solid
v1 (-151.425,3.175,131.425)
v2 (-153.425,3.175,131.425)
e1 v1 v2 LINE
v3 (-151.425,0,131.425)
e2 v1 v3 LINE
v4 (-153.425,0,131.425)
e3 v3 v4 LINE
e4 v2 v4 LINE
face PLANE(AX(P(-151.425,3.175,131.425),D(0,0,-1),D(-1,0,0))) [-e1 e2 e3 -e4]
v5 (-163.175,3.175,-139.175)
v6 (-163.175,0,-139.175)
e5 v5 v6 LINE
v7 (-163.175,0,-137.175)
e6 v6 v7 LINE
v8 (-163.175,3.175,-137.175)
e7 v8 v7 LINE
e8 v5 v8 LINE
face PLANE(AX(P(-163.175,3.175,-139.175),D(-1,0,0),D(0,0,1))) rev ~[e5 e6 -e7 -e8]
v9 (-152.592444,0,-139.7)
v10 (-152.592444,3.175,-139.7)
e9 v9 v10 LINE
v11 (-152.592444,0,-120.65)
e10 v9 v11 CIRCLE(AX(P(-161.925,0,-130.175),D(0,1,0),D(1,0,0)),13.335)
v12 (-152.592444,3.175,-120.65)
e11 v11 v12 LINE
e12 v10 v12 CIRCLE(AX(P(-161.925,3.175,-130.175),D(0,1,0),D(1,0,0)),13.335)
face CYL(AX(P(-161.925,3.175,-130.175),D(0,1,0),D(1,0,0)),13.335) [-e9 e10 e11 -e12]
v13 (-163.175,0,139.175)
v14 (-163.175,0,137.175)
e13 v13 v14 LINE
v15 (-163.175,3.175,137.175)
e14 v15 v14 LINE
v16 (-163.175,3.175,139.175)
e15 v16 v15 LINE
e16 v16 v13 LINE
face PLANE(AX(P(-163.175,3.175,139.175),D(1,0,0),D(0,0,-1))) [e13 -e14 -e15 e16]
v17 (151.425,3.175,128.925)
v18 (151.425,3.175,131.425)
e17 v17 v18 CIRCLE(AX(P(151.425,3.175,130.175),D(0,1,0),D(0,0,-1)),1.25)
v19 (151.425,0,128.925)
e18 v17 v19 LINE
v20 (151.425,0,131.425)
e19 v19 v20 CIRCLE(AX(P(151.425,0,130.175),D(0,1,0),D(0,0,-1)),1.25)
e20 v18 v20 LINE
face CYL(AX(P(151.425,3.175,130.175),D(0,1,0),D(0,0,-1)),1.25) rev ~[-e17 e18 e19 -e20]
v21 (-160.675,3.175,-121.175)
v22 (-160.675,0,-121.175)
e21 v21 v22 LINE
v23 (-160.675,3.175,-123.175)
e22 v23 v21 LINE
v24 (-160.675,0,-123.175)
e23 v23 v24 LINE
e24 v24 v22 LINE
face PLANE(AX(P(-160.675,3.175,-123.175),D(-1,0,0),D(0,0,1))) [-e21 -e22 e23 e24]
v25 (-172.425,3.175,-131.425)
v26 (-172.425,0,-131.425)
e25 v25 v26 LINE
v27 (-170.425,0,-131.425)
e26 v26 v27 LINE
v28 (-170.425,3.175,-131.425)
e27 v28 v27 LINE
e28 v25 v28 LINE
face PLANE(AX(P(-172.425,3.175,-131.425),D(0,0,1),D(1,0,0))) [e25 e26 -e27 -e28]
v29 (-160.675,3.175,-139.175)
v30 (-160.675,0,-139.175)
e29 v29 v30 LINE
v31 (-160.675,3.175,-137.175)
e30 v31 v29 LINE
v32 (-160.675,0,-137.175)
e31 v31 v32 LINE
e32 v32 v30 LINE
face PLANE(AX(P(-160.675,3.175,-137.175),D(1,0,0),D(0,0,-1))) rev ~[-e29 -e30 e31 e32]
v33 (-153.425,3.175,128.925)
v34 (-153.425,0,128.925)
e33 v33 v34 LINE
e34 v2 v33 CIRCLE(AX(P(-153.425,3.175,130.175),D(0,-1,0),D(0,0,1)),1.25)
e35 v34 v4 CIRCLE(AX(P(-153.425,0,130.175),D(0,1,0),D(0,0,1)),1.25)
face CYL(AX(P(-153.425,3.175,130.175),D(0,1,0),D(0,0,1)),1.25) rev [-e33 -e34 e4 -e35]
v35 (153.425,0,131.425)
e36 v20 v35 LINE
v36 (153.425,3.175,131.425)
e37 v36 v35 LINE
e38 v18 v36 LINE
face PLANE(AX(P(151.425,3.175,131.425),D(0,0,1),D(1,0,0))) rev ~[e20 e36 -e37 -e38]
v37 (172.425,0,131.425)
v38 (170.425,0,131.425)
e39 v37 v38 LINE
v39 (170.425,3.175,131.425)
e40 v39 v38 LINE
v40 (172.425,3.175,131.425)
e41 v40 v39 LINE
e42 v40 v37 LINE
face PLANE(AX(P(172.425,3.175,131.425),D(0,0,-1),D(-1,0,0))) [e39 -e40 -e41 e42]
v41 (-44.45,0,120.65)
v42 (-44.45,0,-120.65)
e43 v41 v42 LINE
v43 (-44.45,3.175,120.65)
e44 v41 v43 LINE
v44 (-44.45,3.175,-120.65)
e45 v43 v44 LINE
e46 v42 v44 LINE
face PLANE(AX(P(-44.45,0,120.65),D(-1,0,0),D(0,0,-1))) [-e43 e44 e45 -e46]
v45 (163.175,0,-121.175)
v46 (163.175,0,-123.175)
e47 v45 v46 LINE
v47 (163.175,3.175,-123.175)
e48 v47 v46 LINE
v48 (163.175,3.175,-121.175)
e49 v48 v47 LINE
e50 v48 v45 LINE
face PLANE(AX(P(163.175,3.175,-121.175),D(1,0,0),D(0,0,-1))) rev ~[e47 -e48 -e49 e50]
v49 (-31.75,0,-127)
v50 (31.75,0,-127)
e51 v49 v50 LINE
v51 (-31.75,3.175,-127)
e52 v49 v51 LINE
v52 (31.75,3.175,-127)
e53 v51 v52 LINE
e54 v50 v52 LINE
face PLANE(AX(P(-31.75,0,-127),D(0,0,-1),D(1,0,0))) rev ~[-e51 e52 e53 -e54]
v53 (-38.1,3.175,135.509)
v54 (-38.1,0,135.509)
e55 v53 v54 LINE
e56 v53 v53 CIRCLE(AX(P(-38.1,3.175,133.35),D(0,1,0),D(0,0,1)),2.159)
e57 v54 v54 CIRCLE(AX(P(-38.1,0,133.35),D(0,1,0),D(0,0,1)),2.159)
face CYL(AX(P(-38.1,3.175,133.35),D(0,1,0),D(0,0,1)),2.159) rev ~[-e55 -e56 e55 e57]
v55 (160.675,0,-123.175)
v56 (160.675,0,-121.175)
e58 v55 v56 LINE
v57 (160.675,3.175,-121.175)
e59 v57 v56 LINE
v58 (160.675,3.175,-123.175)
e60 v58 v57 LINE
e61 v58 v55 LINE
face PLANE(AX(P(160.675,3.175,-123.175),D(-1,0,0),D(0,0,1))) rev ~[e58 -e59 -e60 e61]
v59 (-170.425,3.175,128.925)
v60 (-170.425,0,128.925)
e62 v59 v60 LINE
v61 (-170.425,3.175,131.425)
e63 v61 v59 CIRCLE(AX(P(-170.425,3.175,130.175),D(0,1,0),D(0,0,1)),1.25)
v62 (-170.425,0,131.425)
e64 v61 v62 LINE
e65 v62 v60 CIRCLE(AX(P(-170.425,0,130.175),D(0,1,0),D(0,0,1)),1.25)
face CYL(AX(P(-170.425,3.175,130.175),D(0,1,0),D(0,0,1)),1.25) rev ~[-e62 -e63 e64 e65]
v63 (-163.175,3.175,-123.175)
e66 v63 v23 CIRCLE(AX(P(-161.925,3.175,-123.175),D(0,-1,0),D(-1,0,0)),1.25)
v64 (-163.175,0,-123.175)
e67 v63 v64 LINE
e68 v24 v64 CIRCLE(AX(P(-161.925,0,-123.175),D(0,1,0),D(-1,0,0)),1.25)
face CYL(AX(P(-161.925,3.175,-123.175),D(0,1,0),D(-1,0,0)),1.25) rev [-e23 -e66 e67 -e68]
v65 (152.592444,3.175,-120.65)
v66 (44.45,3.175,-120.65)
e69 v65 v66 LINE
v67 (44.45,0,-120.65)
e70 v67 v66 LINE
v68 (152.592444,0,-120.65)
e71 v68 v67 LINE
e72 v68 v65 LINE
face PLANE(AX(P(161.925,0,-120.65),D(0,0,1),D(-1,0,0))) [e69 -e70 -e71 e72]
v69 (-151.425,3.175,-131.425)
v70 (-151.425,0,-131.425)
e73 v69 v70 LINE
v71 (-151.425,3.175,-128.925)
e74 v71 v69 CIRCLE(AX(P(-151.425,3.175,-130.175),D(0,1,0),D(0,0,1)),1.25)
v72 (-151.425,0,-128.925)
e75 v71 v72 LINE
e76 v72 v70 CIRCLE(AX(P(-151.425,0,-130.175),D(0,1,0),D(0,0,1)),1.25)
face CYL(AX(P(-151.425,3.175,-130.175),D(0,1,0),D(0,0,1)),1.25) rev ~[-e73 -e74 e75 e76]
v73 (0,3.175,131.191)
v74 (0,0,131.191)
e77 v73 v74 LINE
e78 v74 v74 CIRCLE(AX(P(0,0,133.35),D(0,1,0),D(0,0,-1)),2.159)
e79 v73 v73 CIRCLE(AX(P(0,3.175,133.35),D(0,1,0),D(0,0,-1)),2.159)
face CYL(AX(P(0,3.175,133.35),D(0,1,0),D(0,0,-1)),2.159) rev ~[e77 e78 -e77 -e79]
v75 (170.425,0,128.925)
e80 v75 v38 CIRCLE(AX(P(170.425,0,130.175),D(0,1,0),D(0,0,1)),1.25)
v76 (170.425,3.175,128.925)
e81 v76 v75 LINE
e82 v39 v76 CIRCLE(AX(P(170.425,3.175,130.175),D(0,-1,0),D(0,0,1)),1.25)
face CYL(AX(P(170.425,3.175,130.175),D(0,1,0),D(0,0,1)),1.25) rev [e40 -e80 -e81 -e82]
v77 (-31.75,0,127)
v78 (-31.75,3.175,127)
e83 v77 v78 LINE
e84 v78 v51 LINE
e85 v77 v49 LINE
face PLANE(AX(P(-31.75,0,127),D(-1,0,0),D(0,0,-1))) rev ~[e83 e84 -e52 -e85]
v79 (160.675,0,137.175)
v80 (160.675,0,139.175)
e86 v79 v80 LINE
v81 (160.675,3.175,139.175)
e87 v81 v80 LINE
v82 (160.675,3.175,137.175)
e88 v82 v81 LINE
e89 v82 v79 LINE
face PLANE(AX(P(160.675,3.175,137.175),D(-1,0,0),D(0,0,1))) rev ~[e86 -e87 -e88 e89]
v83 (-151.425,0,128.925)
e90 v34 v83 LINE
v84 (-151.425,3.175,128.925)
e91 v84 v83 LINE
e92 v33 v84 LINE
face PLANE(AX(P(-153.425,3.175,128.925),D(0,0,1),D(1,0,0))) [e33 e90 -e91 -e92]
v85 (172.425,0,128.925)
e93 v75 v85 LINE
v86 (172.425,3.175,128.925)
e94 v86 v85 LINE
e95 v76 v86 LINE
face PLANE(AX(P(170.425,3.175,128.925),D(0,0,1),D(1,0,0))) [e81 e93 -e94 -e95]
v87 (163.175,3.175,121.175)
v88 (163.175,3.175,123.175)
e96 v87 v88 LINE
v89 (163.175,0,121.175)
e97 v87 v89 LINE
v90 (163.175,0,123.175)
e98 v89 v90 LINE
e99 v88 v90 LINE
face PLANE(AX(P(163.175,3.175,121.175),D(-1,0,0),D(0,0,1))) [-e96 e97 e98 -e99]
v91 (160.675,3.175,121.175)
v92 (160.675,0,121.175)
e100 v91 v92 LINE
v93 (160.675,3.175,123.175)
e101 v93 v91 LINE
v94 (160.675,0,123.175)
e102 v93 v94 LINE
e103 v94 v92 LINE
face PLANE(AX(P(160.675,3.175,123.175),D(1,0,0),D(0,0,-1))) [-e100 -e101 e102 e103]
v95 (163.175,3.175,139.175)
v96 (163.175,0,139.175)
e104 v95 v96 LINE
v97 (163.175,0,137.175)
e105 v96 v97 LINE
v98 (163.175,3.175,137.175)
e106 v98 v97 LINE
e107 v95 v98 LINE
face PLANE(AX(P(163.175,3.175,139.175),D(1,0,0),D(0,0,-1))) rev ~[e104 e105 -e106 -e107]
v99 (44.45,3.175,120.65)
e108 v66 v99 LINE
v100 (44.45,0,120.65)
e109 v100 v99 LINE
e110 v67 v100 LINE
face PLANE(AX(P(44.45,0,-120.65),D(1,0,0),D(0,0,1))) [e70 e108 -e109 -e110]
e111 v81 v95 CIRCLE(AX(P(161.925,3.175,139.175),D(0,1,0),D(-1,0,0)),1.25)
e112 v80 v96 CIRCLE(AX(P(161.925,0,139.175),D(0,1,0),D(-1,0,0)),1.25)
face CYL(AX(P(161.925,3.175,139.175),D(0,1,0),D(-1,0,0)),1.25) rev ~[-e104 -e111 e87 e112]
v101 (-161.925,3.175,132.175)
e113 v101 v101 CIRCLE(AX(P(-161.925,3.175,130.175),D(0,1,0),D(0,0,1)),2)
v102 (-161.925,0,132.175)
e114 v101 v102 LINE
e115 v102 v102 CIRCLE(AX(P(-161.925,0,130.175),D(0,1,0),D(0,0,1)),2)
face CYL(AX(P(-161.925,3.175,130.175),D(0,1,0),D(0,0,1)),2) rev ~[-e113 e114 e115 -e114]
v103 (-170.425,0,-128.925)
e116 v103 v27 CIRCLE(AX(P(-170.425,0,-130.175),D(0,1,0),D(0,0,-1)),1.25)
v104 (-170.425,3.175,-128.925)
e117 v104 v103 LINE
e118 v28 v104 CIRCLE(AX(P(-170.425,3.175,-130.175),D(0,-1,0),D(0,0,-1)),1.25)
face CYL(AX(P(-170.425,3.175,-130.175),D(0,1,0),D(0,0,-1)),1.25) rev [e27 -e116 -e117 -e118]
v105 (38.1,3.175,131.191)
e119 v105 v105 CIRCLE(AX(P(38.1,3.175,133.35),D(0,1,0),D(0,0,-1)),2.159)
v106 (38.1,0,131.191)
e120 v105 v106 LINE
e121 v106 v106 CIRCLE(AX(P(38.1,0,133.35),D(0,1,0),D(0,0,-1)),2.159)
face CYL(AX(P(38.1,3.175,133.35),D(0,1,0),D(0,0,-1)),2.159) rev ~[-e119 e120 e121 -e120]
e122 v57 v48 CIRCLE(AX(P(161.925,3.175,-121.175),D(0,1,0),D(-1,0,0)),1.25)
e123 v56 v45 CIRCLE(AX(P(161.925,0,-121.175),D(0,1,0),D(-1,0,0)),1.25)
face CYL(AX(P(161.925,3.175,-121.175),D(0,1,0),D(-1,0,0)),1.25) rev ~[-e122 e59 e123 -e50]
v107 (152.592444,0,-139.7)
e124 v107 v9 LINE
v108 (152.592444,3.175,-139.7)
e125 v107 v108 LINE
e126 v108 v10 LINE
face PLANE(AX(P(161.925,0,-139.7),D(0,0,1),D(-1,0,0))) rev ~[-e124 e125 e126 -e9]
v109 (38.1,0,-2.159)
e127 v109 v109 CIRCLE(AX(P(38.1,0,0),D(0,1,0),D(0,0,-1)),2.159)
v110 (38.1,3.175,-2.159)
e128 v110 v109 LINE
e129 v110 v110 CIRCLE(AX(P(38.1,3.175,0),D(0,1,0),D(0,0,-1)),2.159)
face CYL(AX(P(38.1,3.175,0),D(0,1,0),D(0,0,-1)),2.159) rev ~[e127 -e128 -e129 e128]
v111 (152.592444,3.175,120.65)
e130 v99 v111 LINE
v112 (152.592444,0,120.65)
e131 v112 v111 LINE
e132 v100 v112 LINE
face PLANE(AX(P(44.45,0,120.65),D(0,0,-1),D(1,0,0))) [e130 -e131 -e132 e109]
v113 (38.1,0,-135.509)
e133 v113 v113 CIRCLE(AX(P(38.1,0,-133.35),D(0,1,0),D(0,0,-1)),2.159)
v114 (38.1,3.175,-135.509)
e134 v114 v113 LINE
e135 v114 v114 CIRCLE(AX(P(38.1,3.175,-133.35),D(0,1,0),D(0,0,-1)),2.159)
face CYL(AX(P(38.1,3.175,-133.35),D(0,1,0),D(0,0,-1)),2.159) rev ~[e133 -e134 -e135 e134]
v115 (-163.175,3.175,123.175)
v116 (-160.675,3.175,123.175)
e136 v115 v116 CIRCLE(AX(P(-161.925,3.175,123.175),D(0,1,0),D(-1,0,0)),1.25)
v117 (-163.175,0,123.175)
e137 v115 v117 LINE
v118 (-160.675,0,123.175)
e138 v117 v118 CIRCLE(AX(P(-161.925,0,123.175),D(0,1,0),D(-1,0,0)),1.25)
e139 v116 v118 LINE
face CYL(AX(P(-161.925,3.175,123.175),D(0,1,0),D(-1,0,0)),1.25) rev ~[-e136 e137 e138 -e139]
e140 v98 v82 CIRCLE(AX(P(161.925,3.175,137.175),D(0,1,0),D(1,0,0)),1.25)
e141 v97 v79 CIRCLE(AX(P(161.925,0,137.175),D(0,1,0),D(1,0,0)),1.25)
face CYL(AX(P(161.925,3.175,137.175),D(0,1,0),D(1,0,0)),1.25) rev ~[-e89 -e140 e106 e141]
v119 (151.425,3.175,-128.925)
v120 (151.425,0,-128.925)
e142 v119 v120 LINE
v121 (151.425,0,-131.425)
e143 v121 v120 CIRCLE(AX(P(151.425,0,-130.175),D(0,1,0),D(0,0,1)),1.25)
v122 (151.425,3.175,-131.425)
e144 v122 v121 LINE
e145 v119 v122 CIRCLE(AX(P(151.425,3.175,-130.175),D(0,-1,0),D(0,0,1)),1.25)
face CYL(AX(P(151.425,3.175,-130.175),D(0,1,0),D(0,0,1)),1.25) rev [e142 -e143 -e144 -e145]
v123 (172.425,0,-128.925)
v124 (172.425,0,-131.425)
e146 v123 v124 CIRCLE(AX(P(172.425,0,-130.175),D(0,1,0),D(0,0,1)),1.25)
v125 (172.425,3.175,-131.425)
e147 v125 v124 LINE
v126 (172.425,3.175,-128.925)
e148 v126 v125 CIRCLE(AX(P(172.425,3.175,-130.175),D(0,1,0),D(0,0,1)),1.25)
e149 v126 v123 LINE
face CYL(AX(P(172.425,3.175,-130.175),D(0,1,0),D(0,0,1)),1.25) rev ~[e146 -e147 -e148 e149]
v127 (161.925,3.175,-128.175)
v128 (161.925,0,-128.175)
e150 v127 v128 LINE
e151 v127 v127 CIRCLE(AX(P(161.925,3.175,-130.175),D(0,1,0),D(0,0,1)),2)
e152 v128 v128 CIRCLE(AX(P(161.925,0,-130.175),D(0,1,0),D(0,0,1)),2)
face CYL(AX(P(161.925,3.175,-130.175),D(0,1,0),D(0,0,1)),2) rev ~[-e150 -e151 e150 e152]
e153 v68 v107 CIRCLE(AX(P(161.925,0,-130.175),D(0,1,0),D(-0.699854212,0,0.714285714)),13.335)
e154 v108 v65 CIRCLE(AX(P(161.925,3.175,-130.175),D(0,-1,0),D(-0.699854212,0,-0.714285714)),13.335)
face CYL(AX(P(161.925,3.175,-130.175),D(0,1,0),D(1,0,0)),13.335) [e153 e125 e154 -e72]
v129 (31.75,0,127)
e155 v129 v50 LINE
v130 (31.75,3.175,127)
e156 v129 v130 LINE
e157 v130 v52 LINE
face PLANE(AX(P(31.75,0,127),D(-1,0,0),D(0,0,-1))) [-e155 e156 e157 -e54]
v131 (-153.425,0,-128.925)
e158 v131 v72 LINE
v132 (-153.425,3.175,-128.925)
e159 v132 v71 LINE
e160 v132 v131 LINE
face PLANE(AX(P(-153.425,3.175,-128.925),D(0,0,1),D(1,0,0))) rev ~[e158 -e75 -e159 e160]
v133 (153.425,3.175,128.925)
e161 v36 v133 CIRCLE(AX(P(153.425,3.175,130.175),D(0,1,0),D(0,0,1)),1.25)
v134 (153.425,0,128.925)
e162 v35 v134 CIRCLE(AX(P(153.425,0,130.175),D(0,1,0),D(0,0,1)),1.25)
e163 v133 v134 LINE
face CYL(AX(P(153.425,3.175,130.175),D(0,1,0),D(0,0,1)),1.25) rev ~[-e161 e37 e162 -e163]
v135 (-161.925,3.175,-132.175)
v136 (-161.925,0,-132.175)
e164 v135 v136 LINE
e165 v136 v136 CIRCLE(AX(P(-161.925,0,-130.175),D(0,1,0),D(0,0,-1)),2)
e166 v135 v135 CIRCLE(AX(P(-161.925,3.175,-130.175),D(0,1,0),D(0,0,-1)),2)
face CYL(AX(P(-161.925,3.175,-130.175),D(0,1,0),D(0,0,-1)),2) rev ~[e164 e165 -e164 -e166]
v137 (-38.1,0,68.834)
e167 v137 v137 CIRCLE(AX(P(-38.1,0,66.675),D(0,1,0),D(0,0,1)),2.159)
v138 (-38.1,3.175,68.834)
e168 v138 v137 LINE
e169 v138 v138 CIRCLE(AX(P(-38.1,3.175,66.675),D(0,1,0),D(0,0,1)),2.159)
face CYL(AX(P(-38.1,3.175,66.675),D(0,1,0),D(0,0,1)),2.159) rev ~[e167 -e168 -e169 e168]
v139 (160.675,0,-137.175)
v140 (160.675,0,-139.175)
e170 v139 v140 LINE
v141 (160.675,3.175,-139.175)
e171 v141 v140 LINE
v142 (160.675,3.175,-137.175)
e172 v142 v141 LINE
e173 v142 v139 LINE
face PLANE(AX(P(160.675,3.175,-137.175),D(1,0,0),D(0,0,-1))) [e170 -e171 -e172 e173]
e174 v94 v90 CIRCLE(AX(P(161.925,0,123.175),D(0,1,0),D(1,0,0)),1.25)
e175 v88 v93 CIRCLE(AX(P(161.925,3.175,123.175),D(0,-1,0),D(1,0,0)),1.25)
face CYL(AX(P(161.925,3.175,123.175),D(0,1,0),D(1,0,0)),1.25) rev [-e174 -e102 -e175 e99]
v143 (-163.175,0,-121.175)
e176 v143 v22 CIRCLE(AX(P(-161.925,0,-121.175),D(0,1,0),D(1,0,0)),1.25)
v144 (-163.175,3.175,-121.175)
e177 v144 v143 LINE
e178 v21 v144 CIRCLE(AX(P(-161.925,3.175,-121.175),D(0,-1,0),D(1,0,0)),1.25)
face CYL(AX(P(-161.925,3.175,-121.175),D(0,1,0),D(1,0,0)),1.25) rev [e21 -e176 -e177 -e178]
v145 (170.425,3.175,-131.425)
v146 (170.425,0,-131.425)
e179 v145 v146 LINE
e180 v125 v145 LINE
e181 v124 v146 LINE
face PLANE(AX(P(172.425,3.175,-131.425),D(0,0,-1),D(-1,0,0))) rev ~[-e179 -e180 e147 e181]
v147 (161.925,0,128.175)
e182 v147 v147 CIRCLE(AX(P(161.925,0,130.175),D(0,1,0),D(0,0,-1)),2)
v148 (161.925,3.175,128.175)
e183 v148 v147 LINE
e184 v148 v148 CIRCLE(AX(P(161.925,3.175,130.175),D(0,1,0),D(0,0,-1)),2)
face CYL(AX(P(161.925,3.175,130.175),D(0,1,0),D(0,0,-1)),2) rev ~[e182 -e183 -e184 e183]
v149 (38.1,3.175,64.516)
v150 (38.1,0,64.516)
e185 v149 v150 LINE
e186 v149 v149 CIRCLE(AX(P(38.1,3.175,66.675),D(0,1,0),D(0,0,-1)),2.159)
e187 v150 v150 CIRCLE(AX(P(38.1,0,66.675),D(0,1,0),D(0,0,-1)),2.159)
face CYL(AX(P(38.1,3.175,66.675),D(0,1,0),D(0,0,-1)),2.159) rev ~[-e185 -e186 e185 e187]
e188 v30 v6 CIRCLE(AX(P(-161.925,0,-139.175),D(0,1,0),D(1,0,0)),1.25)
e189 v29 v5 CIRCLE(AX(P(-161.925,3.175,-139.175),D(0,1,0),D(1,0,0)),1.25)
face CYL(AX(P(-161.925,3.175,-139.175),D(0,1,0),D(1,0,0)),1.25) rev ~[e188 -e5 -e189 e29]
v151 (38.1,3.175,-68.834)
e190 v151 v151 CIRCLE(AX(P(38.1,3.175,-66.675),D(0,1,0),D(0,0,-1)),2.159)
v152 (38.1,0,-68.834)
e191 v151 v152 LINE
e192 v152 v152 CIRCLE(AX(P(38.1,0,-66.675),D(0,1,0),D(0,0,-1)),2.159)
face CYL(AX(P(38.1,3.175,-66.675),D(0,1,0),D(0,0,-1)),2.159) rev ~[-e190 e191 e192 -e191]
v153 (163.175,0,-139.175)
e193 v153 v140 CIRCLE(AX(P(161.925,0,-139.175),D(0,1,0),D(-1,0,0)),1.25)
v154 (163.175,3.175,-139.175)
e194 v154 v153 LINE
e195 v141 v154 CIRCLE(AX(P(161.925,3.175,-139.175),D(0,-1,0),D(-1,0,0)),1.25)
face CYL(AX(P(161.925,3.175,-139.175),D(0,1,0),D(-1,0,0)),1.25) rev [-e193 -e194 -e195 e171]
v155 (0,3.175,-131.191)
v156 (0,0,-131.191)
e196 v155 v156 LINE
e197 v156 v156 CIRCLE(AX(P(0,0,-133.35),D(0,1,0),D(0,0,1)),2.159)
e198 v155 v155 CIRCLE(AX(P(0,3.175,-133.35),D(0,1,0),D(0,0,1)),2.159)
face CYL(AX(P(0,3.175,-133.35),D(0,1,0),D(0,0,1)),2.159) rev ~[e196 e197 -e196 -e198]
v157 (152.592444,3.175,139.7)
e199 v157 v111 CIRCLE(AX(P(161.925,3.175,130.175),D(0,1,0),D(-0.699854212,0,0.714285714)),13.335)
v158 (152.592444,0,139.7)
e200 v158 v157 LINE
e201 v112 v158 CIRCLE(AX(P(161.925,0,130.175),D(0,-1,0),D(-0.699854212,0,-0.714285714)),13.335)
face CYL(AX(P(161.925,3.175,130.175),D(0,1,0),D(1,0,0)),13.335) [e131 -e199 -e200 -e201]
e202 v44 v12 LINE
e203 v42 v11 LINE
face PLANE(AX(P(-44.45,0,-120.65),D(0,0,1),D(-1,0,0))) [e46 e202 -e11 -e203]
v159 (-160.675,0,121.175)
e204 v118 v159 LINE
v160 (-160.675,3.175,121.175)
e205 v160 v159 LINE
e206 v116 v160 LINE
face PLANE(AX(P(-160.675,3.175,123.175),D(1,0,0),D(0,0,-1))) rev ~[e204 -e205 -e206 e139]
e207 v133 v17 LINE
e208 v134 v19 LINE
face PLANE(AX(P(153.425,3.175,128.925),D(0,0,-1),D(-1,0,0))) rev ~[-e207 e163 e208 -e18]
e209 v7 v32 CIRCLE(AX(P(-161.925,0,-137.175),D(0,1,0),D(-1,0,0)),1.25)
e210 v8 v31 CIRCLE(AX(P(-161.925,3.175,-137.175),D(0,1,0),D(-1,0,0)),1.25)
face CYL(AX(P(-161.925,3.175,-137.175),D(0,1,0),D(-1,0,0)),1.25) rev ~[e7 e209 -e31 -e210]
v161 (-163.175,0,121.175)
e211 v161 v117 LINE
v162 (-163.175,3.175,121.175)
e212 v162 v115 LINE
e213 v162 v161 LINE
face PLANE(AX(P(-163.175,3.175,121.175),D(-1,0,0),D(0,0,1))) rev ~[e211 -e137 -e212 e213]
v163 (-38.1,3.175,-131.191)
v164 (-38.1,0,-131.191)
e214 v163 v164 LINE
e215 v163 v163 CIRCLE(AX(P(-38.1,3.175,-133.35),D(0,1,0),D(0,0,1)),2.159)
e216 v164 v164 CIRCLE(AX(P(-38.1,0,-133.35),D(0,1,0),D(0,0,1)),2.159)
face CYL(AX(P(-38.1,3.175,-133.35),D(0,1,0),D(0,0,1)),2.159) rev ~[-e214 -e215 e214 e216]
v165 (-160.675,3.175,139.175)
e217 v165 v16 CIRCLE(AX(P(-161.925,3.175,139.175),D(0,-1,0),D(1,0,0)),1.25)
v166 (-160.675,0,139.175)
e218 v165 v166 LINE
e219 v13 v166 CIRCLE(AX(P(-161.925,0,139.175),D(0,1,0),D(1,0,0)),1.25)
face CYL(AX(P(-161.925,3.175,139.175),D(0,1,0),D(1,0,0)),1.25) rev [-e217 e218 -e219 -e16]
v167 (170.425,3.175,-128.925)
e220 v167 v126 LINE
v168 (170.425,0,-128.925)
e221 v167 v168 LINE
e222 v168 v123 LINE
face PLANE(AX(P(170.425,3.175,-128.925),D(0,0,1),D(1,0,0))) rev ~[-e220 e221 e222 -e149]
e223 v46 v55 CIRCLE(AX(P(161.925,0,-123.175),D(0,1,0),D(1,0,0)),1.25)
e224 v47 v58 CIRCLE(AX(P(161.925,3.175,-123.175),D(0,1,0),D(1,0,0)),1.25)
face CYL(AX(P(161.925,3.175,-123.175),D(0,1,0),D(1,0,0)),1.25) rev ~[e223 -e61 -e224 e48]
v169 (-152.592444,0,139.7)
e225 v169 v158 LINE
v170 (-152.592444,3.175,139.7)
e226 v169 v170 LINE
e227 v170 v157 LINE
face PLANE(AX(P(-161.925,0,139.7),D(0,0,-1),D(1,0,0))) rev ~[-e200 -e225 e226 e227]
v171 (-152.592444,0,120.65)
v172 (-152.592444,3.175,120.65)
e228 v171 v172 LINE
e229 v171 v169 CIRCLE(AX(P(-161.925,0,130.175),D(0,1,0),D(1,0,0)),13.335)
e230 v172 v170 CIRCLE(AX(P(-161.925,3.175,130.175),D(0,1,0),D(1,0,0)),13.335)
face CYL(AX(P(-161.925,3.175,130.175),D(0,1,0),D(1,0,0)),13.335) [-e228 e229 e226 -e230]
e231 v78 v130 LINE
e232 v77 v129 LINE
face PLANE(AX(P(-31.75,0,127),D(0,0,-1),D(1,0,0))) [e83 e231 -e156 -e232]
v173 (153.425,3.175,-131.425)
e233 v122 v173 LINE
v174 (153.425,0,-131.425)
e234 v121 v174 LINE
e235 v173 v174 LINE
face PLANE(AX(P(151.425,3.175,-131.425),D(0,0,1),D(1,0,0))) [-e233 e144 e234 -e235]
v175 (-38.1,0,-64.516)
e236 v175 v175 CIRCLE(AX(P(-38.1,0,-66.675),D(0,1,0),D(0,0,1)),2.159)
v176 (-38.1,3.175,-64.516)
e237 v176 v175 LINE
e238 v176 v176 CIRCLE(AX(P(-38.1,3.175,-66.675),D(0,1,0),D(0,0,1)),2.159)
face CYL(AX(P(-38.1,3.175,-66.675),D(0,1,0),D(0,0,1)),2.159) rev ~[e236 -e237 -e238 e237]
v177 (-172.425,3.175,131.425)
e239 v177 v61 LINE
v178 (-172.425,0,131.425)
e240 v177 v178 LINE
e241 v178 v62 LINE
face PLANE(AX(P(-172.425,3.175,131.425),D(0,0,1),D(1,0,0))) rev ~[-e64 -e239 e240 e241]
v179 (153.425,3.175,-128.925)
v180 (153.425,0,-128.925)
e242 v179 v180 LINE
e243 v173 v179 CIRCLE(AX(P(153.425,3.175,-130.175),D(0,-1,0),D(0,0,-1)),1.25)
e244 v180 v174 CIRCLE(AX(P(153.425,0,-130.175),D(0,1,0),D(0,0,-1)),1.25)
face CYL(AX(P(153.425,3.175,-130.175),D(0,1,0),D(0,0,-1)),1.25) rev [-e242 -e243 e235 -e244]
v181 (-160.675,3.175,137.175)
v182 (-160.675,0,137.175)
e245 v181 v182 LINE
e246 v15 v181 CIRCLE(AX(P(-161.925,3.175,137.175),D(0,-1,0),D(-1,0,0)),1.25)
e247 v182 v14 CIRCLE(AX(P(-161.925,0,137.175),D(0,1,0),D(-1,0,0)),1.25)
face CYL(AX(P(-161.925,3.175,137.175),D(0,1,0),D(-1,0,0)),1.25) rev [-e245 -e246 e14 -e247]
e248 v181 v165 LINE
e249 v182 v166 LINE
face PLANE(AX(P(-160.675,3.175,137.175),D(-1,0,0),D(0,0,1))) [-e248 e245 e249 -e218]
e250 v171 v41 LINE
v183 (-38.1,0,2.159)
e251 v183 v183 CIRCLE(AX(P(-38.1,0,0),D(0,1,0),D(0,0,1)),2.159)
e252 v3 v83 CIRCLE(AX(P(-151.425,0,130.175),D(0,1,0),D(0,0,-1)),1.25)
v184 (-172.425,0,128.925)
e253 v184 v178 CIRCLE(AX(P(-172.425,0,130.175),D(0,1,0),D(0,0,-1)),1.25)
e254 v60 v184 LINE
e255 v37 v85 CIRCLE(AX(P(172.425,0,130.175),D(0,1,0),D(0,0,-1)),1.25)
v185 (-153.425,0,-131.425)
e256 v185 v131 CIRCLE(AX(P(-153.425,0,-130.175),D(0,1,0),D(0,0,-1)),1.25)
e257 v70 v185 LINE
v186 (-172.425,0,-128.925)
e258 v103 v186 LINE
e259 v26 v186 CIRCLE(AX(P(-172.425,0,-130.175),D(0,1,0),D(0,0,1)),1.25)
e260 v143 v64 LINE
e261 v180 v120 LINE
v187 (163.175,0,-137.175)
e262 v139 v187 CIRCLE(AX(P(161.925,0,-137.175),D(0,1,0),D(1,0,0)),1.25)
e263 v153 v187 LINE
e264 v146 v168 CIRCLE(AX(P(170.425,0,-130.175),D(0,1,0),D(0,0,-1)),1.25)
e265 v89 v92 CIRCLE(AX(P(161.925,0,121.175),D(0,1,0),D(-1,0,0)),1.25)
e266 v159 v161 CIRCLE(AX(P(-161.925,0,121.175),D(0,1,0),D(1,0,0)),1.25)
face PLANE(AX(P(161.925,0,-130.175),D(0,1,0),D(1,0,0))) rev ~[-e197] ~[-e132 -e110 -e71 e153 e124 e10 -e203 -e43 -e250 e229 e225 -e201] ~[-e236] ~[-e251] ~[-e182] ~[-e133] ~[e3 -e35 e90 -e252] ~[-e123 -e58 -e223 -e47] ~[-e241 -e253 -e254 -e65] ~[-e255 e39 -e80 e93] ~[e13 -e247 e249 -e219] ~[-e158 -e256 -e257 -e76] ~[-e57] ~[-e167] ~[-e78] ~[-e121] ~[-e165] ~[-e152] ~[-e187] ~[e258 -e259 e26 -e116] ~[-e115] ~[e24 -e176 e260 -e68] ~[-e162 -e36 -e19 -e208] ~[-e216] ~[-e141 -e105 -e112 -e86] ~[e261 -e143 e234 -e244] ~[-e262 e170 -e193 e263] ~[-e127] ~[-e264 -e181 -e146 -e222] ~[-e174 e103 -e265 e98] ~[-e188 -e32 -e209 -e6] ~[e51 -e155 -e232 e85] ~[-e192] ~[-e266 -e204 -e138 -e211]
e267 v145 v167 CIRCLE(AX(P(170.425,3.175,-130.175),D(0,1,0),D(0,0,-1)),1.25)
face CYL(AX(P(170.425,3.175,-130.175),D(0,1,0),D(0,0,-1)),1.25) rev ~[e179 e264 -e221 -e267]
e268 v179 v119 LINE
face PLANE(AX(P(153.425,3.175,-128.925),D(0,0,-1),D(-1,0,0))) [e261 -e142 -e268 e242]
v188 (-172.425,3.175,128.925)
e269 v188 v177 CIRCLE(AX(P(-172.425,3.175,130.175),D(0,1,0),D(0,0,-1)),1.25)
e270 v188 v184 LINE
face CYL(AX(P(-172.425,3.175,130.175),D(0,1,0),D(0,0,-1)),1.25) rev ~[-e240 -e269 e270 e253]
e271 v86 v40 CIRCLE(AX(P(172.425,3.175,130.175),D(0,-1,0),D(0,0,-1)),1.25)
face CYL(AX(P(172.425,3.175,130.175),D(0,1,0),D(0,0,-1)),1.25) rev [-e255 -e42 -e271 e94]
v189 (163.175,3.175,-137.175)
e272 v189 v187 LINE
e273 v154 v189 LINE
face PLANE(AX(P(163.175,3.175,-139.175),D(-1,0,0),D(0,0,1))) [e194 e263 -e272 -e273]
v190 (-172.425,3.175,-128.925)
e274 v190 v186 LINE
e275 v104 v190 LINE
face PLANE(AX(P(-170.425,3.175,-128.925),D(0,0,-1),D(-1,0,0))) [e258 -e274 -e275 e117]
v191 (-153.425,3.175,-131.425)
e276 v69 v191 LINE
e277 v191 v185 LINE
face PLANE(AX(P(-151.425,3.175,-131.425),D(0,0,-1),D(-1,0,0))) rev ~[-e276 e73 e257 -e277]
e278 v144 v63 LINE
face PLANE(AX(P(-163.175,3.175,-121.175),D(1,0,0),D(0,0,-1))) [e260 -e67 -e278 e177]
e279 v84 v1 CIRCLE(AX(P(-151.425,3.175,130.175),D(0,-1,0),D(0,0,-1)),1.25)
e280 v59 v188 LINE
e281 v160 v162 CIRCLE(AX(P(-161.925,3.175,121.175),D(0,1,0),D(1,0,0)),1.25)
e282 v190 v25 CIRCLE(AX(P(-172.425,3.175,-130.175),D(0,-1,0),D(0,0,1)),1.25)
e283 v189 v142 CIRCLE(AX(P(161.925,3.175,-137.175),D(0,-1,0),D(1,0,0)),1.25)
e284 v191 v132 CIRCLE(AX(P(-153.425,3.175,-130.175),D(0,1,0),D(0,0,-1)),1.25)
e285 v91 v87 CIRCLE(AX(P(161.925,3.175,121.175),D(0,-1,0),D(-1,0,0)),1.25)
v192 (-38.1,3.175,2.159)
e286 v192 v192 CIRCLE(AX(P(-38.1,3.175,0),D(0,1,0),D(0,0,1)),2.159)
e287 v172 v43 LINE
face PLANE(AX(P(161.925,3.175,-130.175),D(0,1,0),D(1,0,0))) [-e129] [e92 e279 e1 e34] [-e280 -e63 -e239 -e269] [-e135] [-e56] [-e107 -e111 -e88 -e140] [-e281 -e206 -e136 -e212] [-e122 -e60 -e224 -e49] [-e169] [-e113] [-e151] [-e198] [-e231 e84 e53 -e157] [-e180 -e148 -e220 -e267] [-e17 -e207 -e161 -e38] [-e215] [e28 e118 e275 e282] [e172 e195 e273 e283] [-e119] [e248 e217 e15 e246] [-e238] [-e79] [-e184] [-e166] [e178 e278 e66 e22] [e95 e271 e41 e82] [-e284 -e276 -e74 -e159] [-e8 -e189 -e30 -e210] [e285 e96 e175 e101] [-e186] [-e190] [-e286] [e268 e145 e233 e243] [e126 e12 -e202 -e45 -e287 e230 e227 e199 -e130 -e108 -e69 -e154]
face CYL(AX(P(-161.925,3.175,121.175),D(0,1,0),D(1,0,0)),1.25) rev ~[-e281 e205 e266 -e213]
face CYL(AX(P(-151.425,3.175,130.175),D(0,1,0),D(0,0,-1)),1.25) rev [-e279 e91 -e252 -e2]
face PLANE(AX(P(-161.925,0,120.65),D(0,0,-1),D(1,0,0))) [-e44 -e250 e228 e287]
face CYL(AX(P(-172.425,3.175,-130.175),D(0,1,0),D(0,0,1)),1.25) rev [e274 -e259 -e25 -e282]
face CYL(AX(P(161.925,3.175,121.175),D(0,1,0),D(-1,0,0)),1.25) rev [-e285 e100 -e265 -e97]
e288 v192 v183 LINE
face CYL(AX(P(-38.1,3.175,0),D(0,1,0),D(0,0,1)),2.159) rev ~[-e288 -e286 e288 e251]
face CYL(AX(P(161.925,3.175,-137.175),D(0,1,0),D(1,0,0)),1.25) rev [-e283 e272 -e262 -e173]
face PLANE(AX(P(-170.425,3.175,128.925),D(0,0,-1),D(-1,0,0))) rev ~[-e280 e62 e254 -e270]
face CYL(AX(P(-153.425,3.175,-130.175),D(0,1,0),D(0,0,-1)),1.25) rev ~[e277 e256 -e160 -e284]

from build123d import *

# Parameters (mm, degrees)
SKETCH1_W           = 63.5
SKETCH1_H           = 254
BOSS_EXTRUDE1_DEPTH = 3.175
SKETCH4_R           = 13.335
BOSS_EXTRUDE4_DEPTH = 3.175
SKETCH5_R           = 2
MOTOR_HOLES_DEPTH   = 227.541979167
SKETCH7_R           = 2.159
CUT_EXTRUDE2_DEPTH  = 227.541979167


with BuildPart() as part:
    # Sketch1 → Boss-Extrude1 (new body)
    with BuildSketch(Plane(origin=(0, 0, 0), x_dir=(1, 0, 0), z_dir=(0, 1, 0))):
        Polygon((-44.45, 139.7), (44.45, 139.7), (161.925, 139.7), (161.925, 120.65), (44.45, 120.65), (44.45, -120.65), (161.925, -120.65), (161.925, -139.7), (44.45, -139.7), (-44.45, -139.7), (-161.925, -139.7), (-161.925, -120.65), (-44.45, -120.65), (-44.45, 120.65), (-161.925, 120.65), (-161.925, 139.7), align=None)
        Rectangle(SKETCH1_W, SKETCH1_H, mode=Mode.SUBTRACT)
    extrude(amount=BOSS_EXTRUDE1_DEPTH)

    # Sketch4 → Boss-Extrude4 (add)
    with BuildSketch(Plane(origin=(0, 3.175, 0), x_dir=(1, 0, 0), z_dir=(0, 1, 0))):
        with Locations((161.925, 130.175)):
            Circle(SKETCH4_R)
        with Locations((-161.925, 130.175)):
            Circle(SKETCH4_R)
        with Locations((-161.925, -130.175)):
            Circle(SKETCH4_R)
        with Locations((161.925, -130.175)):
            Circle(SKETCH4_R)
    extrude(amount=-BOSS_EXTRUDE4_DEPTH)

    # Sketch5 → Motor Holes (cut, through all)
    with BuildSketch(Plane(origin=(0, 3.175, 0), x_dir=(1, 0, 0), z_dir=(0, 1, 0))):
        with Locations(Location((161.925, 130.175, 0), (0, 0, 270))):
            Circle(SKETCH5_R)
        with Locations(Location((-161.925, 130.175, 0), (0, 0, 90))):
            Circle(SKETCH5_R)
        with Locations(Location((161.925, -130.175, 0), (0, 0, 90))):
            Circle(SKETCH5_R)
        with Locations(Location((-161.925, -130.175, 0), (0, 0, 270))):
            Circle(SKETCH5_R)
        with BuildLine():
            Line((151.425, 131.425), (153.425, 131.425))
            ThreePointArc((153.425, 131.425), (154.675, 130.175), (153.425, 128.925))
            Line((153.425, 128.925), (151.425, 128.925))
            ThreePointArc((151.425, 128.925), (150.175, 130.175), (151.425, 131.425))
        make_face()
        with BuildLine():
            Line((172.425, 131.425), (170.425, 131.425))
            ThreePointArc((170.425, 131.425), (169.175, 130.175), (170.425, 128.925))
            Line((170.425, 128.925), (172.425, 128.925))
            ThreePointArc((172.425, 128.925), (173.675, 130.175), (172.425, 131.425))
        make_face()
        with BuildLine():
            Line((163.175, 139.175), (163.175, 137.175))
            ThreePointArc((163.175, 137.175), (161.925, 135.925), (160.675, 137.175))
            Line((160.675, 137.175), (160.675, 139.175))
            ThreePointArc((160.675, 139.175), (161.925, 140.425), (163.175, 139.175))
        make_face()
        with BuildLine():
            Line((163.175, 121.175), (163.175, 123.175))
            ThreePointArc((163.175, 123.175), (161.925, 124.425), (160.675, 123.175))
            Line((160.675, 123.175), (160.675, 121.175))
            ThreePointArc((160.675, 121.175), (161.925, 119.925), (163.175, 121.175))
        make_face()
        with BuildLine():
            Line((-151.425, 131.425), (-153.425, 131.425))
            ThreePointArc((-153.425, 131.425), (-154.675, 130.175), (-153.425, 128.925))
            Line((-153.425, 128.925), (-151.425, 128.925))
            ThreePointArc((-151.425, 128.925), (-150.175, 130.175), (-151.425, 131.425))
        make_face()
        with BuildLine():
            Line((-172.425, 131.425), (-170.425, 131.425))
            ThreePointArc((-170.425, 131.425), (-169.175, 130.175), (-170.425, 128.925))
            Line((-170.425, 128.925), (-172.425, 128.925))
            ThreePointArc((-172.425, 128.925), (-173.675, 130.175), (-172.425, 131.425))
        make_face()
        with BuildLine():
            Line((-163.175, 139.175), (-163.175, 137.175))
            ThreePointArc((-163.175, 137.175), (-161.925, 135.925), (-160.675, 137.175))
            Line((-160.675, 137.175), (-160.675, 139.175))
            ThreePointArc((-160.675, 139.175), (-161.925, 140.425), (-163.175, 139.175))
        make_face()
        with BuildLine():
            Line((-163.175, 121.175), (-163.175, 123.175))
            ThreePointArc((-163.175, 123.175), (-161.925, 124.425), (-160.675, 123.175))
            Line((-160.675, 123.175), (-160.675, 121.175))
            ThreePointArc((-160.675, 121.175), (-161.925, 119.925), (-163.175, 121.175))
        make_face()
        with BuildLine():
            Line((151.425, -131.425), (153.425, -131.425))
            ThreePointArc((153.425, -131.425), (154.675, -130.175), (153.425, -128.925))
            Line((153.425, -128.925), (151.425, -128.925))
            ThreePointArc((151.425, -128.925), (150.175, -130.175), (151.425, -131.425))
        make_face()
        with BuildLine():
            Line((163.175, -139.175), (163.175, -137.175))
            ThreePointArc((163.175, -137.175), (161.925, -135.925), (160.675, -137.175))
            Line((160.675, -137.175), (160.675, -139.175))
            ThreePointArc((160.675, -139.175), (161.925, -140.425), (163.175, -139.175))
        make_face()
        with BuildLine():
            Line((172.425, -131.425), (170.425, -131.425))
            ThreePointArc((170.425, -131.425), (169.175, -130.175), (170.425, -128.925))
            Line((170.425, -128.925), (172.425, -128.925))
            ThreePointArc((172.425, -128.925), (173.675, -130.175), (172.425, -131.425))
        make_face()
        with BuildLine():
            Line((163.175, -121.175), (163.175, -123.175))
            ThreePointArc((163.175, -123.175), (161.925, -124.425), (160.675, -123.175))
            Line((160.675, -123.175), (160.675, -121.175))
            ThreePointArc((160.675, -121.175), (161.925, -119.925), (163.175, -121.175))
        make_face()
        with BuildLine():
            Line((-163.175, -121.175), (-163.175, -123.175))
            ThreePointArc((-163.175, -123.175), (-161.925, -124.425), (-160.675, -123.175))
            Line((-160.675, -123.175), (-160.675, -121.175))
            ThreePointArc((-160.675, -121.175), (-161.925, -119.925), (-163.175, -121.175))
        make_face()
        with BuildLine():
            Line((-163.175, -139.175), (-163.175, -137.175))
            ThreePointArc((-163.175, -137.175), (-161.925, -135.925), (-160.675, -137.175))
            Line((-160.675, -137.175), (-160.675, -139.175))
            ThreePointArc((-160.675, -139.175), (-161.925, -140.425), (-163.175, -139.175))
        make_face()
        with BuildLine():
            Line((-172.425, -131.425), (-170.425, -131.425))
            ThreePointArc((-170.425, -131.425), (-169.175, -130.175), (-170.425, -128.925))
            Line((-170.425, -128.925), (-172.425, -128.925))
            ThreePointArc((-172.425, -128.925), (-173.675, -130.175), (-172.425, -131.425))
        make_face()
        with BuildLine():
            Line((-151.425, -131.425), (-153.425, -131.425))
            ThreePointArc((-153.425, -131.425), (-154.675, -130.175), (-153.425, -128.925))
            Line((-153.425, -128.925), (-151.425, -128.925))
            ThreePointArc((-151.425, -128.925), (-150.175, -130.175), (-151.425, -131.425))
        make_face()
    extrude(amount=-MOTOR_HOLES_DEPTH, mode=Mode.SUBTRACT)

    # Sketch7 → Cut-Extrude2 (cut, through all)
    with BuildSketch(Plane(origin=(0, 3.175, 0), x_dir=(1, 0, 0), z_dir=(0, 1, 0))):
        with Locations(Location((-38.1, 133.35, 0), (0, 0, 270))):
            Circle(SKETCH7_R)
        with Locations(Location((-38.1, 66.675, 0), (0, 0, 270))):
            Circle(SKETCH7_R)
        with Locations(Location((-38.1, 0, 0), (0, 0, 270))):
            Circle(SKETCH7_R)
        with Locations(Location((-38.1, -66.675, 0), (0, 0, 270))):
            Circle(SKETCH7_R)
        with Locations(Location((-38.1, -133.35, 0), (0, 0, 270))):
            Circle(SKETCH7_R)
        with Locations(Location((38.1, -133.35, 0), (0, 0, 90))):
            Circle(SKETCH7_R)
        with Locations(Location((38.1, -66.675, 0), (0, 0, 90))):
            Circle(SKETCH7_R)
        with Locations(Location((38.1, 0, 0), (0, 0, 90))):
            Circle(SKETCH7_R)
        with Locations(Location((38.1, 66.675, 0), (0, 0, 90))):
            Circle(SKETCH7_R)
        with Locations(Location((38.1, 133.35, 0), (0, 0, 90))):
            Circle(SKETCH7_R)
        with Locations(Location((0, 133.35, 0), (0, 0, 270))):
            Circle(SKETCH7_R)
        with Locations(Location((0, -133.35, 0), (0, 0, 90))):
            Circle(SKETCH7_R)
    extrude(amount=-CUT_EXTRUDE2_DEPTH, mode=Mode.SUBTRACT)


solid = part.part
